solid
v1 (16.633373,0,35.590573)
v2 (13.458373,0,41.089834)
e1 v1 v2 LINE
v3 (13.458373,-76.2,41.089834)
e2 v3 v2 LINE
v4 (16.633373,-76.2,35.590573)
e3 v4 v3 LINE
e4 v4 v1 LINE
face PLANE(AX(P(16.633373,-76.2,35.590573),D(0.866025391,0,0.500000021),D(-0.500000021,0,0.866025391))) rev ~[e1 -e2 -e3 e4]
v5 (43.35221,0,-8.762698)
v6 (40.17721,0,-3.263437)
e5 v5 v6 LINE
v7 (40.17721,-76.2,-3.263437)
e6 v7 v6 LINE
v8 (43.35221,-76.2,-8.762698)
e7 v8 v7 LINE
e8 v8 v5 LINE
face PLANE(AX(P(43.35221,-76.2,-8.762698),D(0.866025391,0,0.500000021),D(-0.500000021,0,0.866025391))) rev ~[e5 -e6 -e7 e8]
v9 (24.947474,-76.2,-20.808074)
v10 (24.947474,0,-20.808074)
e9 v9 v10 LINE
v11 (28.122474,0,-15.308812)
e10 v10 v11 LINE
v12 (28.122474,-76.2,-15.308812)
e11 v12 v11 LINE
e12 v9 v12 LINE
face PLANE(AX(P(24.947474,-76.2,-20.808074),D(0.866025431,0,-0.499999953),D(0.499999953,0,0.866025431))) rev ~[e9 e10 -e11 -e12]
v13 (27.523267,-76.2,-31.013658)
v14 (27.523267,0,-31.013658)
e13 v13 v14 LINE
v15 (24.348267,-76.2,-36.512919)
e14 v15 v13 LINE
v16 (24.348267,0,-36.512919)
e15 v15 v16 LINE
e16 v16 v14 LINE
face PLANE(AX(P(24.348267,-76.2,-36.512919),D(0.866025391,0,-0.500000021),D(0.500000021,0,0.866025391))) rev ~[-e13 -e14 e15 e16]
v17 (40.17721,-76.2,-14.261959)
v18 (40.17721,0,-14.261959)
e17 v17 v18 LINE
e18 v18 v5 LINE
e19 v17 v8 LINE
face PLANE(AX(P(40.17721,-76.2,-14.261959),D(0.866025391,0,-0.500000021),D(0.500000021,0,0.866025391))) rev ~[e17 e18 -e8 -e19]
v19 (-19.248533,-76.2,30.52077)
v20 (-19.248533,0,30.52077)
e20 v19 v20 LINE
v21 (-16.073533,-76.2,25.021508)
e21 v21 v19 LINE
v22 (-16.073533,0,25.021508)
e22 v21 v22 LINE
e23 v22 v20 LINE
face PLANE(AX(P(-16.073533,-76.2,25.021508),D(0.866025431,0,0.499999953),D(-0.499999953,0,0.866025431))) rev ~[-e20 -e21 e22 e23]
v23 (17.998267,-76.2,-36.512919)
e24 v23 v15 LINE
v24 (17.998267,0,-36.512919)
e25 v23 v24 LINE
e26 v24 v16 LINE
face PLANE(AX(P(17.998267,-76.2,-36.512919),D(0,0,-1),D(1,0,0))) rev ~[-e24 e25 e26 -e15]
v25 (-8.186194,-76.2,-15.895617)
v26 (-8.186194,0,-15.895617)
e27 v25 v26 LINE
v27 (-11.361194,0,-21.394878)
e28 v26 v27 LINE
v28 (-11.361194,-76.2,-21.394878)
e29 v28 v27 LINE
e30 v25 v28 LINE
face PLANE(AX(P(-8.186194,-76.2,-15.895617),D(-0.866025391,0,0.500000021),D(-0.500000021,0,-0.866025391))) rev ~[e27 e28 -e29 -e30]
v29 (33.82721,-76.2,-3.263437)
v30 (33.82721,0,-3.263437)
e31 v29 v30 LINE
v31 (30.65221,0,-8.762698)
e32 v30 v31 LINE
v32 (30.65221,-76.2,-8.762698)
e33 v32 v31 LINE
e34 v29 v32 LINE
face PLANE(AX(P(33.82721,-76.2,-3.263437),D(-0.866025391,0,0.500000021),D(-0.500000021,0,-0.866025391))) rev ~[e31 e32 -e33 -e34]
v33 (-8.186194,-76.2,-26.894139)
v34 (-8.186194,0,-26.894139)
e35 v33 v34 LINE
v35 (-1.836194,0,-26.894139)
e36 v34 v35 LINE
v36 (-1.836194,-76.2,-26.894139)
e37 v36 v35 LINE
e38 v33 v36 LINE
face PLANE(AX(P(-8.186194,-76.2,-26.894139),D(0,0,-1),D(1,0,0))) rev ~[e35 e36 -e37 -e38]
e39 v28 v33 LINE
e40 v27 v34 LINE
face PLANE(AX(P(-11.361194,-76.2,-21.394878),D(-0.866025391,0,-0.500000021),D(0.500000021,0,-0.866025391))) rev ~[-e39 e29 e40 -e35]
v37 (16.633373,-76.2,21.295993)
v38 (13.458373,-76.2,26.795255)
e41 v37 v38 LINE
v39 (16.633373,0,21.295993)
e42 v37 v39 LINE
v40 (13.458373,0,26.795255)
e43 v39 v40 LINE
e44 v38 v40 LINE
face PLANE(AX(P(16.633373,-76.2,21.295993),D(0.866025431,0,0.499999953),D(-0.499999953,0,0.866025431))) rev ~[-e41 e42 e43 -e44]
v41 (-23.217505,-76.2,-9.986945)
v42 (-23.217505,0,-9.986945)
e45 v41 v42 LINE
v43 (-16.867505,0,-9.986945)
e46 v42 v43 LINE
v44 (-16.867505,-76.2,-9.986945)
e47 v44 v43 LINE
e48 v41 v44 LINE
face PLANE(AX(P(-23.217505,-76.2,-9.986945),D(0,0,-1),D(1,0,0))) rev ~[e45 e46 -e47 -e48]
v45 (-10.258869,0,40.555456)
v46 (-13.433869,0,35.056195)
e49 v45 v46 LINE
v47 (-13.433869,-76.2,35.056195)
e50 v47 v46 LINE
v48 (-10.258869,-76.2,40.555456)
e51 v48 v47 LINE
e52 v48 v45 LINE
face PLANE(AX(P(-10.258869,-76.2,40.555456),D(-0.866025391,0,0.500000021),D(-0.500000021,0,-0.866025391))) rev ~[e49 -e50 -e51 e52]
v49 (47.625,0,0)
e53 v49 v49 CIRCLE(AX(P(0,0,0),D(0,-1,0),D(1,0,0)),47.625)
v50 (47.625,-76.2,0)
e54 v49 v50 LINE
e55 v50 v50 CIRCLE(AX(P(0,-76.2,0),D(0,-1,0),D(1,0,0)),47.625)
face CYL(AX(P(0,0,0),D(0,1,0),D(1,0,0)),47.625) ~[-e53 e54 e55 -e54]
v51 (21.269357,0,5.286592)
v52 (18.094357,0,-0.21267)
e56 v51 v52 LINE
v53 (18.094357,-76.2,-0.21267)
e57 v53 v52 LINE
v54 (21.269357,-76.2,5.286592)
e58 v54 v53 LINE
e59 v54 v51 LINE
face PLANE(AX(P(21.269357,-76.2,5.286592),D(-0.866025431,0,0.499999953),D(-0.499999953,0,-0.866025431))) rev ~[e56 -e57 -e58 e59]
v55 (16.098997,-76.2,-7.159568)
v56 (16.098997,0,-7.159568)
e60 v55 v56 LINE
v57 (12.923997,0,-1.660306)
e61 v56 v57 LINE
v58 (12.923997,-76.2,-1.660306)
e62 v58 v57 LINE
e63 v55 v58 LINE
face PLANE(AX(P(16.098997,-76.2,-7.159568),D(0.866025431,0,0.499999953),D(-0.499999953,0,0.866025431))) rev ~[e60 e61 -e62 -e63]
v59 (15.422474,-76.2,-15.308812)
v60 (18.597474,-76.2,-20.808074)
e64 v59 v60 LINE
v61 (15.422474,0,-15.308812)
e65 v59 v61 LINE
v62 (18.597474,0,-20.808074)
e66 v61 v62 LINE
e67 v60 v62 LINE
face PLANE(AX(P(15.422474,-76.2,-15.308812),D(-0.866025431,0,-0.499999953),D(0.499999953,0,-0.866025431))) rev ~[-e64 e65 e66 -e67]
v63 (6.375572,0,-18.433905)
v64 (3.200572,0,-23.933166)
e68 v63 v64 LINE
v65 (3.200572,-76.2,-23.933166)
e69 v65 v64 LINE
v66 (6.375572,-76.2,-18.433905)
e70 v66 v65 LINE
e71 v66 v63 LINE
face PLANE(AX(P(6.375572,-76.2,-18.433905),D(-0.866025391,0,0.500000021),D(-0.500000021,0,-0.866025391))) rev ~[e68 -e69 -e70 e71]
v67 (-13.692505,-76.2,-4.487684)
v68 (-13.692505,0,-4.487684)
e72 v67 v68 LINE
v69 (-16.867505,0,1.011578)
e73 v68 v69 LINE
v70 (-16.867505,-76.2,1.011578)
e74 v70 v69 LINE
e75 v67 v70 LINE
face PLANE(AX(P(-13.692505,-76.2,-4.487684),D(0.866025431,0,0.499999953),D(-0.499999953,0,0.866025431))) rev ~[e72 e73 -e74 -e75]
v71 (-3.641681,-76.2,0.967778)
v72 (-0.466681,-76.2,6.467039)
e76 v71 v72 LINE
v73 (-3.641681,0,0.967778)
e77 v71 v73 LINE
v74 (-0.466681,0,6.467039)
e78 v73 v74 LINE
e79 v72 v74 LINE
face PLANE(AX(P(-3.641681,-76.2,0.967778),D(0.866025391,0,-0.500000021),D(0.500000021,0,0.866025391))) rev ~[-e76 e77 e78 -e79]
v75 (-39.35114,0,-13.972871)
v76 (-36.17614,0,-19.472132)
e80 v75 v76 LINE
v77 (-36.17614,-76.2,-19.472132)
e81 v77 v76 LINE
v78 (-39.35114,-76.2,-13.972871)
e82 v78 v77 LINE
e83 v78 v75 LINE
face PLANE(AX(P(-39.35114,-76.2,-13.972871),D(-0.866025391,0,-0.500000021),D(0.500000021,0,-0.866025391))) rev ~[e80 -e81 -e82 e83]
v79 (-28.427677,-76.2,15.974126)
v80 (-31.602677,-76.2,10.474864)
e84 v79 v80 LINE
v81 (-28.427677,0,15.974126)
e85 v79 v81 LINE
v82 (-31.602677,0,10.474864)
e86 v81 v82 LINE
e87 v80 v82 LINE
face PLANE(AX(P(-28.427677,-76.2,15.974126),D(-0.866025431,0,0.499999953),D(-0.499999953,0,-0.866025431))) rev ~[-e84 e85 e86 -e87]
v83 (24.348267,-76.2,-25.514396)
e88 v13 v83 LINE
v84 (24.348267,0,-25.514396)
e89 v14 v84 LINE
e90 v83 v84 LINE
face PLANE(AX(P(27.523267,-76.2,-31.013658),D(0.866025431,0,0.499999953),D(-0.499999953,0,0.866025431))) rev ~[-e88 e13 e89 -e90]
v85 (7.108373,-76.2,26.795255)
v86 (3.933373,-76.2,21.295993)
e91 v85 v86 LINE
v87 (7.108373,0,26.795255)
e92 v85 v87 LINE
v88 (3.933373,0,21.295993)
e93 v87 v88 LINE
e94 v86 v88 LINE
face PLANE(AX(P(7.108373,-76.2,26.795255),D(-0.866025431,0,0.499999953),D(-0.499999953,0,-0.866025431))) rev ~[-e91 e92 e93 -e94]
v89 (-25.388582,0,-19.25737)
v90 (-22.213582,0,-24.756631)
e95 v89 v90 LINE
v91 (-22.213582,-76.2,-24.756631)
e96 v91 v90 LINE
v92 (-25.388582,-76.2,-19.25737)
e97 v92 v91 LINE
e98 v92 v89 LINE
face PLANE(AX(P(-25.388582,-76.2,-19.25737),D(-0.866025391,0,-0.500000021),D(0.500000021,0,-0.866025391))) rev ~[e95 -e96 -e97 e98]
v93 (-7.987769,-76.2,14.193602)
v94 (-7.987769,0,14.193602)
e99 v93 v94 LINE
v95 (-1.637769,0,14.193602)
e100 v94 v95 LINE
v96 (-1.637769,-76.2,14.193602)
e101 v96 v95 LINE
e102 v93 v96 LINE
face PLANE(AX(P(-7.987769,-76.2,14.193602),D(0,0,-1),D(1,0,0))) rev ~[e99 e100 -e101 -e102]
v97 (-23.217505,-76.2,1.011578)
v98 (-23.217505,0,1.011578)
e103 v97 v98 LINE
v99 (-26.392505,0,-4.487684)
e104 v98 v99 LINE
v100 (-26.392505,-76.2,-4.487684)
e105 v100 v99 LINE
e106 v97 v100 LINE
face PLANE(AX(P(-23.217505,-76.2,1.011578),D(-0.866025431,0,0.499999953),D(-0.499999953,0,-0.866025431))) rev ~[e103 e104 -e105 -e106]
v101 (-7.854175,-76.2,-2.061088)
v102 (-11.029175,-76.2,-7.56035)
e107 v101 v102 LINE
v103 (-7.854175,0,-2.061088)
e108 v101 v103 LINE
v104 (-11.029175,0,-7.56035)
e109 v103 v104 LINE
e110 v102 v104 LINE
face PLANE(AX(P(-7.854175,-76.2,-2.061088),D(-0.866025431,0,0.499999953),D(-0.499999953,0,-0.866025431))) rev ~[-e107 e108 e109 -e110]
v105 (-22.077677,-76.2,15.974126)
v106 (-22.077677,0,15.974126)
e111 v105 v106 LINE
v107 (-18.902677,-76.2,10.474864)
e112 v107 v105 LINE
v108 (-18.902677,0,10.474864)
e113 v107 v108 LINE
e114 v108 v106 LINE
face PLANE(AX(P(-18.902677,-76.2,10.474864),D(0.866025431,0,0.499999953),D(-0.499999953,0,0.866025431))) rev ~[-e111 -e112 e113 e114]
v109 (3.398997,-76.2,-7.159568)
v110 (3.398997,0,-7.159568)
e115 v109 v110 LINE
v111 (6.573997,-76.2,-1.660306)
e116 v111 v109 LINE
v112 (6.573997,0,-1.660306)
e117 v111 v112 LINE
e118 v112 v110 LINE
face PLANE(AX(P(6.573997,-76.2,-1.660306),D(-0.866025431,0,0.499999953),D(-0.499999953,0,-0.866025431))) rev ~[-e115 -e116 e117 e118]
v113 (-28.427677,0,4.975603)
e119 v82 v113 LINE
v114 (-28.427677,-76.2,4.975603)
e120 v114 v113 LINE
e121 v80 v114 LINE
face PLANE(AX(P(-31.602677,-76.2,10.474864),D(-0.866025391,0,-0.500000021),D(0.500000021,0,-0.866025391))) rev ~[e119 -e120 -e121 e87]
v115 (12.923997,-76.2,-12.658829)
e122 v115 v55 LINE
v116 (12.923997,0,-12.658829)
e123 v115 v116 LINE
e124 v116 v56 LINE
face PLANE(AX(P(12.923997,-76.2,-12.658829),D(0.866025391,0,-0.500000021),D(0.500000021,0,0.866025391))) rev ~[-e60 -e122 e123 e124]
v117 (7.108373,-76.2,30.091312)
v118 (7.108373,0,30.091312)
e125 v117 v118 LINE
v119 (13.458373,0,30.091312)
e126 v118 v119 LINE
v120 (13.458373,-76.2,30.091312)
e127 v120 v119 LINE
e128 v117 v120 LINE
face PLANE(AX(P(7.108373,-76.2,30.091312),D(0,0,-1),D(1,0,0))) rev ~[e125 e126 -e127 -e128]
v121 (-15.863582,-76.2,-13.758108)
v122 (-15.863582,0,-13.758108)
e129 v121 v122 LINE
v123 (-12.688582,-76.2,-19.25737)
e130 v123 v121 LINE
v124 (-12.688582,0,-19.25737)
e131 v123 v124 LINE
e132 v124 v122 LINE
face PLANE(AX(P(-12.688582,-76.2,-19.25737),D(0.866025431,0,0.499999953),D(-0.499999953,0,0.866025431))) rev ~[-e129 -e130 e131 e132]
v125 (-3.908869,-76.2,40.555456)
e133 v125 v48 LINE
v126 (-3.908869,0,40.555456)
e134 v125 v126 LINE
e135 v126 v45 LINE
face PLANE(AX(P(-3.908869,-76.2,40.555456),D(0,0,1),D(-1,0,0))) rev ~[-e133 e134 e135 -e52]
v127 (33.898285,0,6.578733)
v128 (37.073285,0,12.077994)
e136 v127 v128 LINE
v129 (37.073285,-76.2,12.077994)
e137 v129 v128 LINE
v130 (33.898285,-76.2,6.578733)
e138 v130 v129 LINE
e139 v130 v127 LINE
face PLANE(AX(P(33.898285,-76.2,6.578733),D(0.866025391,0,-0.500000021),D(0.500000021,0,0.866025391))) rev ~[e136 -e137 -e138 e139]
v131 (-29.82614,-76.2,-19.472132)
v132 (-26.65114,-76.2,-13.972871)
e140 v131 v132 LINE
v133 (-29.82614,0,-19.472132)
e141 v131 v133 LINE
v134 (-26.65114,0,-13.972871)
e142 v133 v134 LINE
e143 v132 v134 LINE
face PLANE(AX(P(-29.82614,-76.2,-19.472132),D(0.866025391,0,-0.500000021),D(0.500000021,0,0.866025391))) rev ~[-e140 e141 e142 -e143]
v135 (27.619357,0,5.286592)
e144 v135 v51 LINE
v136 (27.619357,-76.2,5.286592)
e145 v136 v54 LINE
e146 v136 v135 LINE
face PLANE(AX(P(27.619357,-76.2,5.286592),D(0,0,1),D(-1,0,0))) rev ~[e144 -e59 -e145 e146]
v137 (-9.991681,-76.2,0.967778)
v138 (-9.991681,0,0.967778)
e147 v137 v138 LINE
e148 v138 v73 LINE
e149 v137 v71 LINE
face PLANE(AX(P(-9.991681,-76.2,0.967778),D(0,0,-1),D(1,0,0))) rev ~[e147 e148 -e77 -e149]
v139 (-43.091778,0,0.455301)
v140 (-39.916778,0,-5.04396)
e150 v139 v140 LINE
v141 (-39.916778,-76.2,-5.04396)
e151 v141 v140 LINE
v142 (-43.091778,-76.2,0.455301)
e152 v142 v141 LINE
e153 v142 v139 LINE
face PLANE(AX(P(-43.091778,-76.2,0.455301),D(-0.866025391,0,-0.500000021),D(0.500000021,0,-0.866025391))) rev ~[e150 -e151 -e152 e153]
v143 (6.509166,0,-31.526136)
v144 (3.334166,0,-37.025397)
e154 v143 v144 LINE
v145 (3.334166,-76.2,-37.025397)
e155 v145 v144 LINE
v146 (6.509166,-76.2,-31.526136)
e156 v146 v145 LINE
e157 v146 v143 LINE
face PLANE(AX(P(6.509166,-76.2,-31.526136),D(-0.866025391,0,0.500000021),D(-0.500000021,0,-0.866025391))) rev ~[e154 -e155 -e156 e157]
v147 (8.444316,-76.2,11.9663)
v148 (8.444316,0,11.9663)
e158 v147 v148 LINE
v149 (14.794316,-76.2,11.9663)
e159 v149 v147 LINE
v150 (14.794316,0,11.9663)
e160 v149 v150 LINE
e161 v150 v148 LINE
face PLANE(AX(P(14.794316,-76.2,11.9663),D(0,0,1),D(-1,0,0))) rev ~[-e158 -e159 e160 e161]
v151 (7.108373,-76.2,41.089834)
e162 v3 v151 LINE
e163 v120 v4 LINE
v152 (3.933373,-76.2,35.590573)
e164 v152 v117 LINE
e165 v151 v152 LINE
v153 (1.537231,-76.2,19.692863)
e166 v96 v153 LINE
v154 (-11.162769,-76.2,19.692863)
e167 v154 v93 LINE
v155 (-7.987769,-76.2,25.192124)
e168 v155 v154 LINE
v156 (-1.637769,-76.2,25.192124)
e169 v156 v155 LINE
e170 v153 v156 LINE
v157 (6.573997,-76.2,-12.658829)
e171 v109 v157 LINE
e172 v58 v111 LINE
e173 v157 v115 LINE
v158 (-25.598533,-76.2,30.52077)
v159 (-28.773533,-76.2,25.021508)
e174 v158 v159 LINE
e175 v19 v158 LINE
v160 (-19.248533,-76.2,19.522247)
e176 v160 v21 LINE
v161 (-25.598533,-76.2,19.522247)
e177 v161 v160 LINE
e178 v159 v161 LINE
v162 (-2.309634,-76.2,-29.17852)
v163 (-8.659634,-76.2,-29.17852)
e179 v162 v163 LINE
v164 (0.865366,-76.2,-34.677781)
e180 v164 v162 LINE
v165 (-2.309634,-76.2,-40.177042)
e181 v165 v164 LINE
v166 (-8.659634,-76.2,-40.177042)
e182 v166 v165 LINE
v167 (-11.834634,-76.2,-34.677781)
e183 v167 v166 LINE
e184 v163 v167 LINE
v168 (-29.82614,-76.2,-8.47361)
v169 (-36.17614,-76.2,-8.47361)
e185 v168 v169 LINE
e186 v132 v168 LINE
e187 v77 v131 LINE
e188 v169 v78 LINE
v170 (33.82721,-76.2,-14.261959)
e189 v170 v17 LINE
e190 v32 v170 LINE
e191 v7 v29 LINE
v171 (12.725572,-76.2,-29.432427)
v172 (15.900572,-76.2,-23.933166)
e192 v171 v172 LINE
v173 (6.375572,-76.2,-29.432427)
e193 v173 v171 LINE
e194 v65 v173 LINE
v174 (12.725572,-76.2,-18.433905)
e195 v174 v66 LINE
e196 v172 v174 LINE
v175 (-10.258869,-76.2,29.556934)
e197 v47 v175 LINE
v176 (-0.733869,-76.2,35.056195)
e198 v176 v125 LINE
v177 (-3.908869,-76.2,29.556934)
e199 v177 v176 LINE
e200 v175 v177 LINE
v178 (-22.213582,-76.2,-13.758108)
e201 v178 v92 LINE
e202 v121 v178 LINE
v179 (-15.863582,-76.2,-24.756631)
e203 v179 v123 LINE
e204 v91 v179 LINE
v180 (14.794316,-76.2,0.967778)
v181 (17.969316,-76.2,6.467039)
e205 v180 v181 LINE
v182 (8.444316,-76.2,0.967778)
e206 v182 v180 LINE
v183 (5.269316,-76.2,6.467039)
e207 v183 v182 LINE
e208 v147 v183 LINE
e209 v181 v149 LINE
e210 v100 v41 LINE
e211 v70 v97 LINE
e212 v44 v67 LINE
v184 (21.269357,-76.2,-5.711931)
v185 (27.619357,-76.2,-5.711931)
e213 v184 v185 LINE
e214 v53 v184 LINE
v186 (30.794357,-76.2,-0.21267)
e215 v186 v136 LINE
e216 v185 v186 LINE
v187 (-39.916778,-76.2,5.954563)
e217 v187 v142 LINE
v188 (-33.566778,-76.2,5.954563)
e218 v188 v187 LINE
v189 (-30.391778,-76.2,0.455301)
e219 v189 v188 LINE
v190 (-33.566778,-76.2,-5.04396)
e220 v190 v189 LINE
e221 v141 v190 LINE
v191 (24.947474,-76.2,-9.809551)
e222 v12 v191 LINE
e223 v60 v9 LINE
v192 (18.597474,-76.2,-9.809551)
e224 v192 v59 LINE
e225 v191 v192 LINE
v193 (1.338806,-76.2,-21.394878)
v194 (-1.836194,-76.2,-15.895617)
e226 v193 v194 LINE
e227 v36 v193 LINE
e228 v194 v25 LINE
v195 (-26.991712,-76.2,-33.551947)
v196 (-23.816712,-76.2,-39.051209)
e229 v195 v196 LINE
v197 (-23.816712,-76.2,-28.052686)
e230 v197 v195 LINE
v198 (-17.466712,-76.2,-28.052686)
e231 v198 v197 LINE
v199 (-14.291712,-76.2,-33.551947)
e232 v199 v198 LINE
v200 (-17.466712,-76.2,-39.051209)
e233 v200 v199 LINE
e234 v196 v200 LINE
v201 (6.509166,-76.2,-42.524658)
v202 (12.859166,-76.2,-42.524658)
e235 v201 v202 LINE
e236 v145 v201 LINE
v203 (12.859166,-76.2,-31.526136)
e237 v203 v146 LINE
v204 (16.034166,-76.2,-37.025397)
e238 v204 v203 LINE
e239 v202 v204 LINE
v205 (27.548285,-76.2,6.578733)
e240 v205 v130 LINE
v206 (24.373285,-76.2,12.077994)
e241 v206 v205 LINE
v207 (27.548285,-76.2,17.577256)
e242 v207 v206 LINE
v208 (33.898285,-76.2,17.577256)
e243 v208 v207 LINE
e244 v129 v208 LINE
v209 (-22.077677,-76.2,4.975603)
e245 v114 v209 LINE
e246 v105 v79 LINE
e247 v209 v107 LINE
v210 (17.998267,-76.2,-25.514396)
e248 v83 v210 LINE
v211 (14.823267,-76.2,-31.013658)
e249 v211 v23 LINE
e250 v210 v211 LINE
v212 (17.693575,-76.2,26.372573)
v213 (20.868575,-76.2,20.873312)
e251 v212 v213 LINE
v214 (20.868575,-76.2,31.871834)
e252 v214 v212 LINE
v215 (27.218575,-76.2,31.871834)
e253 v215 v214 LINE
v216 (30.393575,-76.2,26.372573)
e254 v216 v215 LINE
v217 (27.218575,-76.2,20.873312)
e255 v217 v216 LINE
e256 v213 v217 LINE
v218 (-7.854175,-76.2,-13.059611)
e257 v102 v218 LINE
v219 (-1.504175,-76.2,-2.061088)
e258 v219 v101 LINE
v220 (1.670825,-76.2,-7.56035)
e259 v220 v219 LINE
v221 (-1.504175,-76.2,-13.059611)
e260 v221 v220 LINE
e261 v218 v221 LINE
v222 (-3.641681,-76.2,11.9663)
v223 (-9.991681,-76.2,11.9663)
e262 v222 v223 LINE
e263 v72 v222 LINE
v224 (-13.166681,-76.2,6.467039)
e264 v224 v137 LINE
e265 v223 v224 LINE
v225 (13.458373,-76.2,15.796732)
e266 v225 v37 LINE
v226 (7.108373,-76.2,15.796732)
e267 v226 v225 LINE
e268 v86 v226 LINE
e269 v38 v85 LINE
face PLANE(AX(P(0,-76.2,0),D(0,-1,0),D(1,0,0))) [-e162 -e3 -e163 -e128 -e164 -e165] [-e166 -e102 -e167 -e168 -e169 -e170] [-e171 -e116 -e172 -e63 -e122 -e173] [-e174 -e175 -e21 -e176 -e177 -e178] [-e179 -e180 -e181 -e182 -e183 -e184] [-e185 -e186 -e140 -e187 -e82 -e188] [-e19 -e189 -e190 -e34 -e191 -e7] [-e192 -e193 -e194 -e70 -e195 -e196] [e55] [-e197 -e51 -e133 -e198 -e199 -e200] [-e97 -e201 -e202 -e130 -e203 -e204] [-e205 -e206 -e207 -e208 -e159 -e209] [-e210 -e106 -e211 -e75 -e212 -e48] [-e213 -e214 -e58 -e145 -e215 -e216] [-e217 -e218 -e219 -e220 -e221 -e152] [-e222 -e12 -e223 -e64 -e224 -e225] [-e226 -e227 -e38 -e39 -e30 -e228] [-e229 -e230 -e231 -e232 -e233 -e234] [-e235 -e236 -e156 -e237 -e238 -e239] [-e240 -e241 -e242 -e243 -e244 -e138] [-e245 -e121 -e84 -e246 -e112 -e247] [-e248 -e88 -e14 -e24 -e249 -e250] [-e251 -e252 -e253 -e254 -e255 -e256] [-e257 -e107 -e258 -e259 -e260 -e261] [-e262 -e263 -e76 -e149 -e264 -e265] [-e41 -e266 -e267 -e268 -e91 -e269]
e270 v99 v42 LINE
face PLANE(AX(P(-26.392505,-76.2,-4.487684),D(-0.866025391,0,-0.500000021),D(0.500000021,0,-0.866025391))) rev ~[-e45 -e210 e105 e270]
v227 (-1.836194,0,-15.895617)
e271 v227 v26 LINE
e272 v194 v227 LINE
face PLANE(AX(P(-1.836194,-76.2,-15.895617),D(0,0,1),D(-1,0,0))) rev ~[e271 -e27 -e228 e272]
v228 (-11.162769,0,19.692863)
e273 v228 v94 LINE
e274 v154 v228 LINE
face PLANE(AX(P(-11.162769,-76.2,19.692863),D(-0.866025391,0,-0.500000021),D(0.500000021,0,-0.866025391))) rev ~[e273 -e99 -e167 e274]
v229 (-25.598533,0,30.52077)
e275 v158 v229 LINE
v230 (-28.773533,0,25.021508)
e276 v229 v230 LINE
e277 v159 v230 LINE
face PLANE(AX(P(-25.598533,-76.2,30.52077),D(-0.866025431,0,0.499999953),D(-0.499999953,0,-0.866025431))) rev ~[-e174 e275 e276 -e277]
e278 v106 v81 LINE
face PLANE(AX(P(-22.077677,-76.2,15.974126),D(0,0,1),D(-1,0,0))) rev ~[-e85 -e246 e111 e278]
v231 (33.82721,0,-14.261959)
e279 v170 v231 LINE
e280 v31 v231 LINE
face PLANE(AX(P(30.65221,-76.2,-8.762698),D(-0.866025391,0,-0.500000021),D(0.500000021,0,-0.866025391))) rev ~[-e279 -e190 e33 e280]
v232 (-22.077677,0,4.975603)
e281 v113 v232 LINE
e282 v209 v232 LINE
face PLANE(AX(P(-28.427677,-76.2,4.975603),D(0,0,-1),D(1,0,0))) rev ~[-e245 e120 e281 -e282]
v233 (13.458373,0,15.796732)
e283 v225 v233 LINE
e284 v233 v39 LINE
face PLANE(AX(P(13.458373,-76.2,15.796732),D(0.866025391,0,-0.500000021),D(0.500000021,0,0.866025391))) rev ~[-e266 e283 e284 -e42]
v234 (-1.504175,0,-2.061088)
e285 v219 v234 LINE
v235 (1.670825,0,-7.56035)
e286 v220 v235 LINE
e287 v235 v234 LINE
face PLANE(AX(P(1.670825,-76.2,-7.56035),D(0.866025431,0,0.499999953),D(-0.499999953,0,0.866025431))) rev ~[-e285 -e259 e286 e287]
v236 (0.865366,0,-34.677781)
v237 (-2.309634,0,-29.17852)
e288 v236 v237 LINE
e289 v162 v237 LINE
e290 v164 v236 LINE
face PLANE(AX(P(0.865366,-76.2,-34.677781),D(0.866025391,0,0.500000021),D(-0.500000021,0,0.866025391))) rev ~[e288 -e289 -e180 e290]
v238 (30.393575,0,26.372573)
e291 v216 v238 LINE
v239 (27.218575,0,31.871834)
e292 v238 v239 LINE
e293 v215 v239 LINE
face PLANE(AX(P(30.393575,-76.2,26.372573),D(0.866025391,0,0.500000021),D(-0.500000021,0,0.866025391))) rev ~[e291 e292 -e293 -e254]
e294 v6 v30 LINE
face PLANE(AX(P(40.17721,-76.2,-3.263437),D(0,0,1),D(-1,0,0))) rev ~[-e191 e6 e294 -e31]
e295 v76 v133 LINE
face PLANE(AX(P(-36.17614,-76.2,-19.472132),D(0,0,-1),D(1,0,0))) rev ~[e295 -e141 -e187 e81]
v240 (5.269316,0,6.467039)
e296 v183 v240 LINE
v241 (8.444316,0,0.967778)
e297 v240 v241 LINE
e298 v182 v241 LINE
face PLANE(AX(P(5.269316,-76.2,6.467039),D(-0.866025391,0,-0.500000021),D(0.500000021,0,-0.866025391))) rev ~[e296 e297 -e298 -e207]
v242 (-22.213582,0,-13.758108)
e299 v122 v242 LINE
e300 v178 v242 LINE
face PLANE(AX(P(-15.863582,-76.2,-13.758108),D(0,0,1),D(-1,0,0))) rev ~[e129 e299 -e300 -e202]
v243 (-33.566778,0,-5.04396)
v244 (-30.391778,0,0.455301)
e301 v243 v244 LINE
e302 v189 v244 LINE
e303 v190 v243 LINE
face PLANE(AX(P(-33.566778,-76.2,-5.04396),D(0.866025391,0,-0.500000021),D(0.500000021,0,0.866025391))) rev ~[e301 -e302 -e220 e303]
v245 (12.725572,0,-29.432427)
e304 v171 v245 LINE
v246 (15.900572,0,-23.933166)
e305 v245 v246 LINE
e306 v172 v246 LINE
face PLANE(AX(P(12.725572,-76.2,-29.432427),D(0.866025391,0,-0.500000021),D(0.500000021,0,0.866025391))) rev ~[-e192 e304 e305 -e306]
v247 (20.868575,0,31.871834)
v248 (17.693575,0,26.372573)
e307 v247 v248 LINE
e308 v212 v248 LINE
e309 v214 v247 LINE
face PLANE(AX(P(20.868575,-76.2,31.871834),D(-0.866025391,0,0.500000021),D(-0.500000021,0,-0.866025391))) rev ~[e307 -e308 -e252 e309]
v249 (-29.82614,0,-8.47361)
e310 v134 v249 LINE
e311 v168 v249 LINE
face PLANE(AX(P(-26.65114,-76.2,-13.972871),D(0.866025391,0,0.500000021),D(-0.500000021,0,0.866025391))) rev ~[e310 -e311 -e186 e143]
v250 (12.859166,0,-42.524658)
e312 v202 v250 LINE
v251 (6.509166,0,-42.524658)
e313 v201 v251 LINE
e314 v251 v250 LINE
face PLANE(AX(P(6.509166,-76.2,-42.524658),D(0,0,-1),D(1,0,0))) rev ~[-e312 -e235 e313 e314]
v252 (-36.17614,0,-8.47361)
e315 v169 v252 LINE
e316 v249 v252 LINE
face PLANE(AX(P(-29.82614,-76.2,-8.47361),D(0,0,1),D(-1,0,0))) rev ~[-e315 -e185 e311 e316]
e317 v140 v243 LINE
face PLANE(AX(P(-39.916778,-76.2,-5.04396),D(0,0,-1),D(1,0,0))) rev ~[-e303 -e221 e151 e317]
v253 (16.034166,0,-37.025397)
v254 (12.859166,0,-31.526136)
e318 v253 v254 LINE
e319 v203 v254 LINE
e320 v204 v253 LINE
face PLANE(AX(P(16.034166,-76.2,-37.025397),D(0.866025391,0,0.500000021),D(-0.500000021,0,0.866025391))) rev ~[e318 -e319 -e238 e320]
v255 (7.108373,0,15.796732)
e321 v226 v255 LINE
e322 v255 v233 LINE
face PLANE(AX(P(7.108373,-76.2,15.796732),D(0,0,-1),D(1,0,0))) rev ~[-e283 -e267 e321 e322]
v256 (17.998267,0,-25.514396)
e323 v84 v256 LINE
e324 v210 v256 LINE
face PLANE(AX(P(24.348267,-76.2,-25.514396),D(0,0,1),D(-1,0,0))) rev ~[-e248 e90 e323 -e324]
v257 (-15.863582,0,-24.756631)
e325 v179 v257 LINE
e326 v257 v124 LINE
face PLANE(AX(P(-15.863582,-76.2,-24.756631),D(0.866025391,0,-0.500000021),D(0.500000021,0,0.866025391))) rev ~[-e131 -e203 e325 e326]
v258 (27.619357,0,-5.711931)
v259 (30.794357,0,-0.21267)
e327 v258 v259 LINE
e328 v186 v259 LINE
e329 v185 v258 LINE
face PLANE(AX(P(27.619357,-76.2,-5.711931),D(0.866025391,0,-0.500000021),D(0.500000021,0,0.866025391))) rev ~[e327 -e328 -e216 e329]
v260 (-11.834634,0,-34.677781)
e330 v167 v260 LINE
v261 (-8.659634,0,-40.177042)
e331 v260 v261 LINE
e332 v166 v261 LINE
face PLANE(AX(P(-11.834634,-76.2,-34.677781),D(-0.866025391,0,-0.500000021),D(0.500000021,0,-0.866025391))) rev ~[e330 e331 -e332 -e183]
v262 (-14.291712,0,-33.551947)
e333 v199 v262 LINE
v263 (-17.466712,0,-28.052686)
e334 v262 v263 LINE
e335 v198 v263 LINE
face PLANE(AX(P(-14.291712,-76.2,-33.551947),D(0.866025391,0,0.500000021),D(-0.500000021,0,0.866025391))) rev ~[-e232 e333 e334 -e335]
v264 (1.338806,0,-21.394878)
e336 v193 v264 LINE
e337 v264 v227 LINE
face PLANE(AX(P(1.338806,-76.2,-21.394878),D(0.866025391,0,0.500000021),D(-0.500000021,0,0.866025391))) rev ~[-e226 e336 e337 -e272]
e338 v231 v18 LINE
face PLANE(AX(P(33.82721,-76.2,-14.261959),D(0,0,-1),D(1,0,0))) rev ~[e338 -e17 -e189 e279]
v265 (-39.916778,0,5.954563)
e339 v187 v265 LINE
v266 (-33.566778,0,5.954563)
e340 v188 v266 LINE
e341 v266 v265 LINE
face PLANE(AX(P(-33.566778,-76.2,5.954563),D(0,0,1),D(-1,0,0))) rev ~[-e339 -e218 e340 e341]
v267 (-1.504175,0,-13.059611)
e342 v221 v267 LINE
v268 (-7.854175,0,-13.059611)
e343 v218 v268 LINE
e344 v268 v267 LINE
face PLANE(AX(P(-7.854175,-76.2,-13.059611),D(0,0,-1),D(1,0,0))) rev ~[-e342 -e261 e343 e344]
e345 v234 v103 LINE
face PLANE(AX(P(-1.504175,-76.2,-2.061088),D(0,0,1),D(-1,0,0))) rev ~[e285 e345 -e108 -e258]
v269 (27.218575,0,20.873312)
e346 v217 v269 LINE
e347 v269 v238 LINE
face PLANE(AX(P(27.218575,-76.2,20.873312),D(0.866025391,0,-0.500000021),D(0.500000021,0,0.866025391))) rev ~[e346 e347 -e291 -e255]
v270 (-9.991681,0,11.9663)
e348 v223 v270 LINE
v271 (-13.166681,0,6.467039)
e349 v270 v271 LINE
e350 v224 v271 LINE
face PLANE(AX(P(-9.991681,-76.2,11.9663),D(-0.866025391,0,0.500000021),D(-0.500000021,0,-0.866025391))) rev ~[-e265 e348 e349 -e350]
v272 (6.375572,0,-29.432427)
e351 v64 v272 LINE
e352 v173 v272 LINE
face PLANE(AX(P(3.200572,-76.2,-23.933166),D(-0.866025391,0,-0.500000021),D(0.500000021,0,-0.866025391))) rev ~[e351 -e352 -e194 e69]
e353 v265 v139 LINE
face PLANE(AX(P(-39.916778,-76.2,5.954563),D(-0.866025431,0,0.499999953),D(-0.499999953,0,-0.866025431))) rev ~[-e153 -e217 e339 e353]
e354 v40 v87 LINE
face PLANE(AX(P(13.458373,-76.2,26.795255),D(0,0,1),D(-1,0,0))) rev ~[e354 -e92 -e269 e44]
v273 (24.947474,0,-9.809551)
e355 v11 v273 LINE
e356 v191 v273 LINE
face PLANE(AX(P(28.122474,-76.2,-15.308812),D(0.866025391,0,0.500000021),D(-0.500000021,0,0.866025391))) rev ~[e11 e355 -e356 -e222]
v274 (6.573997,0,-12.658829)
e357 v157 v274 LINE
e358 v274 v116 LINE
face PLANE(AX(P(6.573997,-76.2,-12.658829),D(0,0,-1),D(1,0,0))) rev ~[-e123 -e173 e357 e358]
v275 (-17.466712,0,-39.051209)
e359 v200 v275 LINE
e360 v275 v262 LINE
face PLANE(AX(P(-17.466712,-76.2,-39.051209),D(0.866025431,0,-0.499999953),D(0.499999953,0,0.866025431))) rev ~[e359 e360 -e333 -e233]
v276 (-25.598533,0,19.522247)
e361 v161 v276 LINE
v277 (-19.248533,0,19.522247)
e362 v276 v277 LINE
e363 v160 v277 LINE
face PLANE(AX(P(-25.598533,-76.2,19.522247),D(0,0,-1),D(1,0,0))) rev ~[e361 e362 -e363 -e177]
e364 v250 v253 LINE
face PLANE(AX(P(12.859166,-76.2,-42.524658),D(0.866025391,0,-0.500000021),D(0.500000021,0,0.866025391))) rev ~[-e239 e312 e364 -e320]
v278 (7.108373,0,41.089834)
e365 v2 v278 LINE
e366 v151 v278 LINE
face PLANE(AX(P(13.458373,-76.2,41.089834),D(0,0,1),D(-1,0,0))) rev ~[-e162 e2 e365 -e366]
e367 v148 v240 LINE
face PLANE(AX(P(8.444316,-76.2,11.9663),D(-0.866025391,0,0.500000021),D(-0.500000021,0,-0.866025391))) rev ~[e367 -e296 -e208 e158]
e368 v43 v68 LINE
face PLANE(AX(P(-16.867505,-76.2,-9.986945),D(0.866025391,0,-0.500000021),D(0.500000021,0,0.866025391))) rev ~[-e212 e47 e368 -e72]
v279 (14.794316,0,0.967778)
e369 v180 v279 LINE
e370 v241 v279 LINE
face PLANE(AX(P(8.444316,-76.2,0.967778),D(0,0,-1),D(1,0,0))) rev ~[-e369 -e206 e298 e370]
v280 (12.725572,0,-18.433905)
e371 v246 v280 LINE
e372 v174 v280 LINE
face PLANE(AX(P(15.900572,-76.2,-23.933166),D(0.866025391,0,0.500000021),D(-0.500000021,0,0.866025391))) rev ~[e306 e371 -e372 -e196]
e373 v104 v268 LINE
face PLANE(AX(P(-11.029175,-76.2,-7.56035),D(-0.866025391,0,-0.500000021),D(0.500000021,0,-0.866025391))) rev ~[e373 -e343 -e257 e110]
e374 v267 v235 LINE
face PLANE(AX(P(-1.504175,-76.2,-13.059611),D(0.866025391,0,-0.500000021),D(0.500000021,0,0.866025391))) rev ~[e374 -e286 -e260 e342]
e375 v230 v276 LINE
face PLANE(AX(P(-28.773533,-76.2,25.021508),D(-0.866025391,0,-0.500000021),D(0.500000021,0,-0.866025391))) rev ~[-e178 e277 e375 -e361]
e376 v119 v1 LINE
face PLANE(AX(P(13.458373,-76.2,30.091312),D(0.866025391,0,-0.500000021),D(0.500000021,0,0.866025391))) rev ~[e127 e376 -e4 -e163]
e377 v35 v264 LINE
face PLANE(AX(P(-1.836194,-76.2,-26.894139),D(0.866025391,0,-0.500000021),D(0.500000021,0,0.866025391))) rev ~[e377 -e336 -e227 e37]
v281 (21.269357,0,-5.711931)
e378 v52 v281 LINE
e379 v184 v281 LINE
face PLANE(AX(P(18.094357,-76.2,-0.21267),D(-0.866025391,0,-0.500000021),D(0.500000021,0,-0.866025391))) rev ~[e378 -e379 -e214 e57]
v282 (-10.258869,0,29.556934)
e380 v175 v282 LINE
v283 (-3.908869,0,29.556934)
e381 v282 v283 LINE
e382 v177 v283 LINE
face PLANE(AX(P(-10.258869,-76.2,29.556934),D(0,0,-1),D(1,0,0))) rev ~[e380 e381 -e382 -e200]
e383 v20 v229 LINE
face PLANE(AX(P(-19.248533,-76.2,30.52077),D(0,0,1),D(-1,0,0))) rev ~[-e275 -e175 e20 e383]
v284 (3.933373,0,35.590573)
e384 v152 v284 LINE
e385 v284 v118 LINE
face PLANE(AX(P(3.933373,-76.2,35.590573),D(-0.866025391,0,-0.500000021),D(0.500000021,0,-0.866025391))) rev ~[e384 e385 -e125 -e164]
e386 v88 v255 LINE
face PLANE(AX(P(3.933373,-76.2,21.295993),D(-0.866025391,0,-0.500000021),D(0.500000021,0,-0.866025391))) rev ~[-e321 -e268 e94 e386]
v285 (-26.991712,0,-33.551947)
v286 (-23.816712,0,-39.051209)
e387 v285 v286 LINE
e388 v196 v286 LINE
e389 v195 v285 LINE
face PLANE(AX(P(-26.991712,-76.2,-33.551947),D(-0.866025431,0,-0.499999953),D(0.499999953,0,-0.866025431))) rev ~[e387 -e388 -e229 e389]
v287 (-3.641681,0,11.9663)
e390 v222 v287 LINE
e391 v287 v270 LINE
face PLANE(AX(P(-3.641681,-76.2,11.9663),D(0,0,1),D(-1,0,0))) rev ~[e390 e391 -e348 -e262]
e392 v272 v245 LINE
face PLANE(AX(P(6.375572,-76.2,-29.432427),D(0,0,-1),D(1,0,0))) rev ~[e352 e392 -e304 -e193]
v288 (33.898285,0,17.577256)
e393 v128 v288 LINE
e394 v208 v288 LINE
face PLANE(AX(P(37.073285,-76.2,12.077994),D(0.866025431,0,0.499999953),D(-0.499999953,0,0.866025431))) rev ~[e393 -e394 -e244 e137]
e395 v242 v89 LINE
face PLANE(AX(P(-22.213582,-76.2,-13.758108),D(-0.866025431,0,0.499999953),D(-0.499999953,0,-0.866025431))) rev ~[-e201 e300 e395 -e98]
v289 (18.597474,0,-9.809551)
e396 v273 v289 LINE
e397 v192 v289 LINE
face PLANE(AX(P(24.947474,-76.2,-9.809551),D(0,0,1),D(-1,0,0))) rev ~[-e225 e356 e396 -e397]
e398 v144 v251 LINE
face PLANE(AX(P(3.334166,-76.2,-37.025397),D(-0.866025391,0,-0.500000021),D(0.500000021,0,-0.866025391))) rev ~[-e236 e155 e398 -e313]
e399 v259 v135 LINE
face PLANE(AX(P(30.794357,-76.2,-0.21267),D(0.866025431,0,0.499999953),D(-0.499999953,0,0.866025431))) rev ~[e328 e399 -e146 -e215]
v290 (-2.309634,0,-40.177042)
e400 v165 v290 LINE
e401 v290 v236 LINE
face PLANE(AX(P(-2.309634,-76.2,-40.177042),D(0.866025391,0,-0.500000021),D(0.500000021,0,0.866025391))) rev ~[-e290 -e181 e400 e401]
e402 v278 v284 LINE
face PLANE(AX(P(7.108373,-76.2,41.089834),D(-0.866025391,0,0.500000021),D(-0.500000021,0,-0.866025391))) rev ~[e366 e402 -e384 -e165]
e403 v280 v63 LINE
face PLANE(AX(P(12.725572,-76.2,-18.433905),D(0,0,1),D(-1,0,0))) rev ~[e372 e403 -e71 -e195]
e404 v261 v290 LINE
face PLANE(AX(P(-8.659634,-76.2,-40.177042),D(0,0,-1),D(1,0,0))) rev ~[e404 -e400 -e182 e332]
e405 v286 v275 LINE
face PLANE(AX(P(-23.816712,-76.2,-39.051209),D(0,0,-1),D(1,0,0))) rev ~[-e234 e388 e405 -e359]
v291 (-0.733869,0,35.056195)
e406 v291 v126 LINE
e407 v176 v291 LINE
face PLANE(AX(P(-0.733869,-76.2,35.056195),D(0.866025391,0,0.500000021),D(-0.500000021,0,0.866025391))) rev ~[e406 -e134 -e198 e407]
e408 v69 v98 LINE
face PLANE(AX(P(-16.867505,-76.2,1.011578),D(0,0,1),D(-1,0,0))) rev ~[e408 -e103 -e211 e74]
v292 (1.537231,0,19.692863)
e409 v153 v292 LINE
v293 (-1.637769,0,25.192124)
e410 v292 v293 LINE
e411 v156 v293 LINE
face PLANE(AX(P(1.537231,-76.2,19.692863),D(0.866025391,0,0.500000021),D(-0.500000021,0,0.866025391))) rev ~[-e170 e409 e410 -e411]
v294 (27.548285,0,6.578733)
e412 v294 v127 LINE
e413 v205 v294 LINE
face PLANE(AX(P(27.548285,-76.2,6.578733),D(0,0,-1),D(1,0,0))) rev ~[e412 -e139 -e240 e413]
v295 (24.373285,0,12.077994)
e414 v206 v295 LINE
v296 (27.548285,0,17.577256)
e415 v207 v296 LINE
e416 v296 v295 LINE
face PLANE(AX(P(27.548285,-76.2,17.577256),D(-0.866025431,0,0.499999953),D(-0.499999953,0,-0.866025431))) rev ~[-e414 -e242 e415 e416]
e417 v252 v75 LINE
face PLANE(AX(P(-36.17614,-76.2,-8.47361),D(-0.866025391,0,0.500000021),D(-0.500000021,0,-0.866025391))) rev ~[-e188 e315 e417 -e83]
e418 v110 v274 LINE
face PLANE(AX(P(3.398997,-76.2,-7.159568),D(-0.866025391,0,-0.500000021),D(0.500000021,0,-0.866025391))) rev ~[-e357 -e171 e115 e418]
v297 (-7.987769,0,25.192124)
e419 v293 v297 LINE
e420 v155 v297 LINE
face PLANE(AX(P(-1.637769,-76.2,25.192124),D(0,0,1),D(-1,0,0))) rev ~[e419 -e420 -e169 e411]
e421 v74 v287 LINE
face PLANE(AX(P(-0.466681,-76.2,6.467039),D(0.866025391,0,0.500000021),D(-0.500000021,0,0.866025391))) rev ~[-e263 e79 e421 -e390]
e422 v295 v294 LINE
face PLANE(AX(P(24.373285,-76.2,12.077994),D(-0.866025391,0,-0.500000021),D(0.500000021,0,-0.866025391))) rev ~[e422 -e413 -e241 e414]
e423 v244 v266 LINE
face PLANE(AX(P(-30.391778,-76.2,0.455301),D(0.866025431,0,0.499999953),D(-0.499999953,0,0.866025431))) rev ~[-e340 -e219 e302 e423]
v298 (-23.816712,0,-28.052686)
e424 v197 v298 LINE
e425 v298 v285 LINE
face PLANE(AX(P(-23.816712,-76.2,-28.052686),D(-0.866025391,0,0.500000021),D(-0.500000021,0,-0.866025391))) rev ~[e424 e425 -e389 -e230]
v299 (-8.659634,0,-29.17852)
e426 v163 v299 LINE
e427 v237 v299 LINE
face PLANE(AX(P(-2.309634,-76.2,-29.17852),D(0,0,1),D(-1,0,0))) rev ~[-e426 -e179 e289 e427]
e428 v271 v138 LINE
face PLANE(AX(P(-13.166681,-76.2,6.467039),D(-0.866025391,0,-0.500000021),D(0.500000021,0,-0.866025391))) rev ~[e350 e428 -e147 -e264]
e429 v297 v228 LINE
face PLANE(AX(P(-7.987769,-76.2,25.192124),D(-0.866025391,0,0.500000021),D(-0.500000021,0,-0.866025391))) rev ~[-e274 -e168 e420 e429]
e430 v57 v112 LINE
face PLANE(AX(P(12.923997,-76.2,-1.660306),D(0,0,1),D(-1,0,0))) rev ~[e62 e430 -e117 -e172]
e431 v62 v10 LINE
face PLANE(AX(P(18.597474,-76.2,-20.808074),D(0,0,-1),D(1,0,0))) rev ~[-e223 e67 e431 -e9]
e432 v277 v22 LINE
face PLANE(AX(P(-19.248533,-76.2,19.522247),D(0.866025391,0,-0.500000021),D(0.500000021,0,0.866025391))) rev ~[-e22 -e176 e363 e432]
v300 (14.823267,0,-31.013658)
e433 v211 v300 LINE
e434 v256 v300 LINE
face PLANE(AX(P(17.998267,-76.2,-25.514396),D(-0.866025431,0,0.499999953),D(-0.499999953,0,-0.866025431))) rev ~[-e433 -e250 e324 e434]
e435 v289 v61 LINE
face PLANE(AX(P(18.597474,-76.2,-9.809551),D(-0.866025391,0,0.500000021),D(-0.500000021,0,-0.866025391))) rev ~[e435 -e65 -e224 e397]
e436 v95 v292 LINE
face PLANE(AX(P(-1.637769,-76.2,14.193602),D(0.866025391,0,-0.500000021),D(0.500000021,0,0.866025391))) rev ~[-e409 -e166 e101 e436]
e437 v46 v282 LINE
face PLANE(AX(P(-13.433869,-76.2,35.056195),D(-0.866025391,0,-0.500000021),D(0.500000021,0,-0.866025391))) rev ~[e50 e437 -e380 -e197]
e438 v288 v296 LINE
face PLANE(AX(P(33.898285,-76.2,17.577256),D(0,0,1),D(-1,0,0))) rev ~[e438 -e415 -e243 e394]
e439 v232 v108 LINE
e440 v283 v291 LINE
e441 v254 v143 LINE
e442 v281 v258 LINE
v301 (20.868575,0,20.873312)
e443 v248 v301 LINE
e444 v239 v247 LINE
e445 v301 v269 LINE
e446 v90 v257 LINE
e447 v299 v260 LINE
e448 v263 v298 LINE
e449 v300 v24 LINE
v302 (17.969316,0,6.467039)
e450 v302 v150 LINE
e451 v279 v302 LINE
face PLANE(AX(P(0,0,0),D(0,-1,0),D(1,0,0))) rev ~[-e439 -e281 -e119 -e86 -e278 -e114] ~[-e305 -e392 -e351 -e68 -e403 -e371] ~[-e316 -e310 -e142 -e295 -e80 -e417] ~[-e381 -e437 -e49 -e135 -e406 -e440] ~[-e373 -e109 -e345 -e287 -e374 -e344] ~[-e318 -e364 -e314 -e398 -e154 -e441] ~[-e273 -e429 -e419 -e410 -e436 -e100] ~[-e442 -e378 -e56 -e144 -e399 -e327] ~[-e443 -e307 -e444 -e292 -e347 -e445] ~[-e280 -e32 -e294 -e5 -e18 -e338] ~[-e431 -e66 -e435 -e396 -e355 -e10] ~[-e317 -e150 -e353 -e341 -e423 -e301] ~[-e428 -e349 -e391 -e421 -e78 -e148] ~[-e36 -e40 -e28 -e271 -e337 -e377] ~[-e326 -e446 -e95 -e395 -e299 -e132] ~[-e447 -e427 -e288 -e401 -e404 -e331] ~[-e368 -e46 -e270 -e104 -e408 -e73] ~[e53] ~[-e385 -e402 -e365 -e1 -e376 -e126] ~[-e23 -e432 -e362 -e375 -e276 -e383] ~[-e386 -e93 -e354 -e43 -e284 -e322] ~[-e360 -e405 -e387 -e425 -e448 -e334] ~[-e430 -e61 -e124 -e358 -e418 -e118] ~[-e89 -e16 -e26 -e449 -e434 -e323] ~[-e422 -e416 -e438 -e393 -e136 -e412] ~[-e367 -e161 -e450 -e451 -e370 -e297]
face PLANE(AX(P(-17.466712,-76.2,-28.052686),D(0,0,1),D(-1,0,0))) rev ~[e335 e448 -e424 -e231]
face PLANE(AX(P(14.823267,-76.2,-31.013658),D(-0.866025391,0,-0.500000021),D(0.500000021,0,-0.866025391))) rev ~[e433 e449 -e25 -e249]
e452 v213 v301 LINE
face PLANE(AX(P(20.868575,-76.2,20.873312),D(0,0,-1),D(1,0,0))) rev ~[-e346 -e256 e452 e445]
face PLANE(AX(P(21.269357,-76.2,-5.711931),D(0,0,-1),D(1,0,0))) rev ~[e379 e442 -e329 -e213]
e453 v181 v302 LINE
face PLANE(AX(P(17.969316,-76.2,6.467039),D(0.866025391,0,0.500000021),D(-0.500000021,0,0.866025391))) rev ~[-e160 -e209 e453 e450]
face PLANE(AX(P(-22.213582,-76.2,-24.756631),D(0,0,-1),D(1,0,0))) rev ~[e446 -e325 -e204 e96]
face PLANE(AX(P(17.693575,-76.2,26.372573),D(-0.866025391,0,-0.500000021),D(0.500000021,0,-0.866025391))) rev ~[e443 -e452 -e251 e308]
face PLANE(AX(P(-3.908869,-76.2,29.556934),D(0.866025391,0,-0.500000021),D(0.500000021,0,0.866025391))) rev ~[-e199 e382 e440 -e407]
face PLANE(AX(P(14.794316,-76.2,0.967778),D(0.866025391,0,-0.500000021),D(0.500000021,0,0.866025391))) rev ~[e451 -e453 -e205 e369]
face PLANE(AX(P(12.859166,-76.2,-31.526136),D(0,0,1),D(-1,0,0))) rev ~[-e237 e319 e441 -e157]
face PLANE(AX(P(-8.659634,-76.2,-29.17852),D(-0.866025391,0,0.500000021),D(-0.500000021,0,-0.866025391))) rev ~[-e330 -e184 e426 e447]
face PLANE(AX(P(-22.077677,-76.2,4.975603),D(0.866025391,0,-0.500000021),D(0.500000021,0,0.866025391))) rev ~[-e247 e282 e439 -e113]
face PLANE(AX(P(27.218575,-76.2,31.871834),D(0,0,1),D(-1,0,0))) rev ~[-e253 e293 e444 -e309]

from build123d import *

# Parameters (mm, degrees)
F0_R     = 47.625
F1_DEPTH = 76.2
F3_DEPTH = 76.201


with BuildPart() as f1:
    # F0 (on Front) → F1 (new body)
    with BuildSketch(Plane.XZ):
        Circle(F0_R)
    extrude(amount=F1_DEPTH)

    # F2 (on face) → F3 (cut, through all)
    with BuildSketch(Plane.XZ.offset(76.2)):
        Polygon((-16.073533, 25.021508), (-19.248533, 30.52077), (-25.598533, 30.52077), (-28.773533, 25.021508), (-25.598533, 19.522247), (-19.248533, 19.522247), align=None)
        Polygon((-0.733869, 35.056195), (-3.908869, 40.555456), (-10.258869, 40.555456), (-13.433869, 35.056195), (-10.258869, 29.556934), (-3.908869, 29.556934), align=None)
        Polygon((16.633373, 35.590573), (13.458373, 41.089834), (7.108373, 41.089834), (3.933373, 35.590573), (7.108373, 30.091312), (13.458373, 30.091312), align=None)
        Polygon((1.537231, 19.692863), (-1.637769, 25.192124), (-7.987769, 25.192124), (-11.162769, 19.692863), (-7.987769, 14.193602), (-1.637769, 14.193602), align=None)
        Polygon((16.633373, 21.295993), (13.458373, 26.795255), (7.108373, 26.795255), (3.933373, 21.295993), (7.108373, 15.796732), (13.458373, 15.796732), align=None)
        Polygon((30.393575, 26.372573), (27.218575, 31.871834), (20.868575, 31.871834), (17.693575, 26.372573), (20.868575, 20.873312), (27.218575, 20.873312), align=None)
        Polygon((37.073285, 12.077994), (33.898285, 17.577256), (27.548285, 17.577256), (24.373285, 12.077994), (27.548285, 6.578733), (33.898285, 6.578733), align=None)
        Polygon((17.969316, 6.467039), (14.794316, 11.9663), (8.444316, 11.9663), (5.269316, 6.467039), (8.444316, 0.967778), (14.794316, 0.967778), align=None)
        Polygon((-0.466681, 6.467039), (-3.641681, 11.9663), (-9.991681, 11.9663), (-13.166681, 6.467039), (-9.991681, 0.967778), (-3.641681, 0.967778), align=None)
        Polygon((-18.902677, 10.474864), (-22.077677, 15.974126), (-28.427677, 15.974126), (-31.602677, 10.474864), (-28.427677, 4.975603), (-22.077677, 4.975603), align=None)
        Polygon((-30.391778, 0.455301), (-33.566778, 5.954563), (-39.916778, 5.954563), (-43.091778, 0.455301), (-39.916778, -5.04396), (-33.566778, -5.04396), align=None)
        Polygon((-26.65114, -13.972871), (-29.82614, -8.47361), (-36.17614, -8.47361), (-39.35114, -13.972871), (-36.17614, -19.472132), (-29.82614, -19.472132), align=None)
        Polygon((-13.692505, -4.487684), (-16.867505, 1.011578), (-23.217505, 1.011578), (-26.392505, -4.487684), (-23.217505, -9.986945), (-16.867505, -9.986945), align=None)
        Polygon((1.670825, -7.56035), (-1.504175, -2.061088), (-7.854175, -2.061088), (-11.029175, -7.56035), (-7.854175, -13.059611), (-1.504175, -13.059611), align=None)
        Polygon((16.098997, -7.159568), (12.923997, -1.660306), (6.573997, -1.660306), (3.398997, -7.159568), (6.573997, -12.658829), (12.923997, -12.658829), align=None)
        Polygon((30.794357, -0.21267), (27.619357, 5.286592), (21.269357, 5.286592), (18.094357, -0.21267), (21.269357, -5.711931), (27.619357, -5.711931), align=None)
        Polygon((43.35221, -8.762698), (40.17721, -3.263437), (33.82721, -3.263437), (30.65221, -8.762698), (33.82721, -14.261959), (40.17721, -14.261959), align=None)
        Polygon((28.122474, -15.308812), (24.947474, -9.809551), (18.597474, -9.809551), (15.422474, -15.308812), (18.597474, -20.808074), (24.947474, -20.808074), align=None)
        Polygon((-12.688582, -19.25737), (-15.863582, -13.758108), (-22.213582, -13.758108), (-25.388582, -19.25737), (-22.213582, -24.756631), (-15.863582, -24.756631), align=None)
        Polygon((1.338806, -21.394878), (-1.836194, -15.895617), (-8.186194, -15.895617), (-11.361194, -21.394878), (-8.186194, -26.894139), (-1.836194, -26.894139), align=None)
        Polygon((15.900572, -23.933166), (12.725572, -18.433905), (6.375572, -18.433905), (3.200572, -23.933166), (6.375572, -29.432427), (12.725572, -29.432427), align=None)
        Polygon((0.865366, -34.677781), (-2.309634, -29.17852), (-8.659634, -29.17852), (-11.834634, -34.677781), (-8.659634, -40.177042), (-2.309634, -40.177042), align=None)
        Polygon((-14.291712, -33.551947), (-17.466712, -28.052686), (-23.816712, -28.052686), (-26.991712, -33.551947), (-23.816712, -39.051209), (-17.466712, -39.051209), align=None)
        Polygon((27.523267, -31.013658), (24.348267, -25.514396), (17.998267, -25.514396), (14.823267, -31.013658), (17.998267, -36.512919), (24.348267, -36.512919), align=None)
        Polygon((16.034166, -37.025397), (12.859166, -31.526136), (6.509166, -31.526136), (3.334166, -37.025397), (6.509166, -42.524658), (12.859166, -42.524658), align=None)
    extrude(amount=-F3_DEPTH, mode=Mode.SUBTRACT)


solid = f1.part
